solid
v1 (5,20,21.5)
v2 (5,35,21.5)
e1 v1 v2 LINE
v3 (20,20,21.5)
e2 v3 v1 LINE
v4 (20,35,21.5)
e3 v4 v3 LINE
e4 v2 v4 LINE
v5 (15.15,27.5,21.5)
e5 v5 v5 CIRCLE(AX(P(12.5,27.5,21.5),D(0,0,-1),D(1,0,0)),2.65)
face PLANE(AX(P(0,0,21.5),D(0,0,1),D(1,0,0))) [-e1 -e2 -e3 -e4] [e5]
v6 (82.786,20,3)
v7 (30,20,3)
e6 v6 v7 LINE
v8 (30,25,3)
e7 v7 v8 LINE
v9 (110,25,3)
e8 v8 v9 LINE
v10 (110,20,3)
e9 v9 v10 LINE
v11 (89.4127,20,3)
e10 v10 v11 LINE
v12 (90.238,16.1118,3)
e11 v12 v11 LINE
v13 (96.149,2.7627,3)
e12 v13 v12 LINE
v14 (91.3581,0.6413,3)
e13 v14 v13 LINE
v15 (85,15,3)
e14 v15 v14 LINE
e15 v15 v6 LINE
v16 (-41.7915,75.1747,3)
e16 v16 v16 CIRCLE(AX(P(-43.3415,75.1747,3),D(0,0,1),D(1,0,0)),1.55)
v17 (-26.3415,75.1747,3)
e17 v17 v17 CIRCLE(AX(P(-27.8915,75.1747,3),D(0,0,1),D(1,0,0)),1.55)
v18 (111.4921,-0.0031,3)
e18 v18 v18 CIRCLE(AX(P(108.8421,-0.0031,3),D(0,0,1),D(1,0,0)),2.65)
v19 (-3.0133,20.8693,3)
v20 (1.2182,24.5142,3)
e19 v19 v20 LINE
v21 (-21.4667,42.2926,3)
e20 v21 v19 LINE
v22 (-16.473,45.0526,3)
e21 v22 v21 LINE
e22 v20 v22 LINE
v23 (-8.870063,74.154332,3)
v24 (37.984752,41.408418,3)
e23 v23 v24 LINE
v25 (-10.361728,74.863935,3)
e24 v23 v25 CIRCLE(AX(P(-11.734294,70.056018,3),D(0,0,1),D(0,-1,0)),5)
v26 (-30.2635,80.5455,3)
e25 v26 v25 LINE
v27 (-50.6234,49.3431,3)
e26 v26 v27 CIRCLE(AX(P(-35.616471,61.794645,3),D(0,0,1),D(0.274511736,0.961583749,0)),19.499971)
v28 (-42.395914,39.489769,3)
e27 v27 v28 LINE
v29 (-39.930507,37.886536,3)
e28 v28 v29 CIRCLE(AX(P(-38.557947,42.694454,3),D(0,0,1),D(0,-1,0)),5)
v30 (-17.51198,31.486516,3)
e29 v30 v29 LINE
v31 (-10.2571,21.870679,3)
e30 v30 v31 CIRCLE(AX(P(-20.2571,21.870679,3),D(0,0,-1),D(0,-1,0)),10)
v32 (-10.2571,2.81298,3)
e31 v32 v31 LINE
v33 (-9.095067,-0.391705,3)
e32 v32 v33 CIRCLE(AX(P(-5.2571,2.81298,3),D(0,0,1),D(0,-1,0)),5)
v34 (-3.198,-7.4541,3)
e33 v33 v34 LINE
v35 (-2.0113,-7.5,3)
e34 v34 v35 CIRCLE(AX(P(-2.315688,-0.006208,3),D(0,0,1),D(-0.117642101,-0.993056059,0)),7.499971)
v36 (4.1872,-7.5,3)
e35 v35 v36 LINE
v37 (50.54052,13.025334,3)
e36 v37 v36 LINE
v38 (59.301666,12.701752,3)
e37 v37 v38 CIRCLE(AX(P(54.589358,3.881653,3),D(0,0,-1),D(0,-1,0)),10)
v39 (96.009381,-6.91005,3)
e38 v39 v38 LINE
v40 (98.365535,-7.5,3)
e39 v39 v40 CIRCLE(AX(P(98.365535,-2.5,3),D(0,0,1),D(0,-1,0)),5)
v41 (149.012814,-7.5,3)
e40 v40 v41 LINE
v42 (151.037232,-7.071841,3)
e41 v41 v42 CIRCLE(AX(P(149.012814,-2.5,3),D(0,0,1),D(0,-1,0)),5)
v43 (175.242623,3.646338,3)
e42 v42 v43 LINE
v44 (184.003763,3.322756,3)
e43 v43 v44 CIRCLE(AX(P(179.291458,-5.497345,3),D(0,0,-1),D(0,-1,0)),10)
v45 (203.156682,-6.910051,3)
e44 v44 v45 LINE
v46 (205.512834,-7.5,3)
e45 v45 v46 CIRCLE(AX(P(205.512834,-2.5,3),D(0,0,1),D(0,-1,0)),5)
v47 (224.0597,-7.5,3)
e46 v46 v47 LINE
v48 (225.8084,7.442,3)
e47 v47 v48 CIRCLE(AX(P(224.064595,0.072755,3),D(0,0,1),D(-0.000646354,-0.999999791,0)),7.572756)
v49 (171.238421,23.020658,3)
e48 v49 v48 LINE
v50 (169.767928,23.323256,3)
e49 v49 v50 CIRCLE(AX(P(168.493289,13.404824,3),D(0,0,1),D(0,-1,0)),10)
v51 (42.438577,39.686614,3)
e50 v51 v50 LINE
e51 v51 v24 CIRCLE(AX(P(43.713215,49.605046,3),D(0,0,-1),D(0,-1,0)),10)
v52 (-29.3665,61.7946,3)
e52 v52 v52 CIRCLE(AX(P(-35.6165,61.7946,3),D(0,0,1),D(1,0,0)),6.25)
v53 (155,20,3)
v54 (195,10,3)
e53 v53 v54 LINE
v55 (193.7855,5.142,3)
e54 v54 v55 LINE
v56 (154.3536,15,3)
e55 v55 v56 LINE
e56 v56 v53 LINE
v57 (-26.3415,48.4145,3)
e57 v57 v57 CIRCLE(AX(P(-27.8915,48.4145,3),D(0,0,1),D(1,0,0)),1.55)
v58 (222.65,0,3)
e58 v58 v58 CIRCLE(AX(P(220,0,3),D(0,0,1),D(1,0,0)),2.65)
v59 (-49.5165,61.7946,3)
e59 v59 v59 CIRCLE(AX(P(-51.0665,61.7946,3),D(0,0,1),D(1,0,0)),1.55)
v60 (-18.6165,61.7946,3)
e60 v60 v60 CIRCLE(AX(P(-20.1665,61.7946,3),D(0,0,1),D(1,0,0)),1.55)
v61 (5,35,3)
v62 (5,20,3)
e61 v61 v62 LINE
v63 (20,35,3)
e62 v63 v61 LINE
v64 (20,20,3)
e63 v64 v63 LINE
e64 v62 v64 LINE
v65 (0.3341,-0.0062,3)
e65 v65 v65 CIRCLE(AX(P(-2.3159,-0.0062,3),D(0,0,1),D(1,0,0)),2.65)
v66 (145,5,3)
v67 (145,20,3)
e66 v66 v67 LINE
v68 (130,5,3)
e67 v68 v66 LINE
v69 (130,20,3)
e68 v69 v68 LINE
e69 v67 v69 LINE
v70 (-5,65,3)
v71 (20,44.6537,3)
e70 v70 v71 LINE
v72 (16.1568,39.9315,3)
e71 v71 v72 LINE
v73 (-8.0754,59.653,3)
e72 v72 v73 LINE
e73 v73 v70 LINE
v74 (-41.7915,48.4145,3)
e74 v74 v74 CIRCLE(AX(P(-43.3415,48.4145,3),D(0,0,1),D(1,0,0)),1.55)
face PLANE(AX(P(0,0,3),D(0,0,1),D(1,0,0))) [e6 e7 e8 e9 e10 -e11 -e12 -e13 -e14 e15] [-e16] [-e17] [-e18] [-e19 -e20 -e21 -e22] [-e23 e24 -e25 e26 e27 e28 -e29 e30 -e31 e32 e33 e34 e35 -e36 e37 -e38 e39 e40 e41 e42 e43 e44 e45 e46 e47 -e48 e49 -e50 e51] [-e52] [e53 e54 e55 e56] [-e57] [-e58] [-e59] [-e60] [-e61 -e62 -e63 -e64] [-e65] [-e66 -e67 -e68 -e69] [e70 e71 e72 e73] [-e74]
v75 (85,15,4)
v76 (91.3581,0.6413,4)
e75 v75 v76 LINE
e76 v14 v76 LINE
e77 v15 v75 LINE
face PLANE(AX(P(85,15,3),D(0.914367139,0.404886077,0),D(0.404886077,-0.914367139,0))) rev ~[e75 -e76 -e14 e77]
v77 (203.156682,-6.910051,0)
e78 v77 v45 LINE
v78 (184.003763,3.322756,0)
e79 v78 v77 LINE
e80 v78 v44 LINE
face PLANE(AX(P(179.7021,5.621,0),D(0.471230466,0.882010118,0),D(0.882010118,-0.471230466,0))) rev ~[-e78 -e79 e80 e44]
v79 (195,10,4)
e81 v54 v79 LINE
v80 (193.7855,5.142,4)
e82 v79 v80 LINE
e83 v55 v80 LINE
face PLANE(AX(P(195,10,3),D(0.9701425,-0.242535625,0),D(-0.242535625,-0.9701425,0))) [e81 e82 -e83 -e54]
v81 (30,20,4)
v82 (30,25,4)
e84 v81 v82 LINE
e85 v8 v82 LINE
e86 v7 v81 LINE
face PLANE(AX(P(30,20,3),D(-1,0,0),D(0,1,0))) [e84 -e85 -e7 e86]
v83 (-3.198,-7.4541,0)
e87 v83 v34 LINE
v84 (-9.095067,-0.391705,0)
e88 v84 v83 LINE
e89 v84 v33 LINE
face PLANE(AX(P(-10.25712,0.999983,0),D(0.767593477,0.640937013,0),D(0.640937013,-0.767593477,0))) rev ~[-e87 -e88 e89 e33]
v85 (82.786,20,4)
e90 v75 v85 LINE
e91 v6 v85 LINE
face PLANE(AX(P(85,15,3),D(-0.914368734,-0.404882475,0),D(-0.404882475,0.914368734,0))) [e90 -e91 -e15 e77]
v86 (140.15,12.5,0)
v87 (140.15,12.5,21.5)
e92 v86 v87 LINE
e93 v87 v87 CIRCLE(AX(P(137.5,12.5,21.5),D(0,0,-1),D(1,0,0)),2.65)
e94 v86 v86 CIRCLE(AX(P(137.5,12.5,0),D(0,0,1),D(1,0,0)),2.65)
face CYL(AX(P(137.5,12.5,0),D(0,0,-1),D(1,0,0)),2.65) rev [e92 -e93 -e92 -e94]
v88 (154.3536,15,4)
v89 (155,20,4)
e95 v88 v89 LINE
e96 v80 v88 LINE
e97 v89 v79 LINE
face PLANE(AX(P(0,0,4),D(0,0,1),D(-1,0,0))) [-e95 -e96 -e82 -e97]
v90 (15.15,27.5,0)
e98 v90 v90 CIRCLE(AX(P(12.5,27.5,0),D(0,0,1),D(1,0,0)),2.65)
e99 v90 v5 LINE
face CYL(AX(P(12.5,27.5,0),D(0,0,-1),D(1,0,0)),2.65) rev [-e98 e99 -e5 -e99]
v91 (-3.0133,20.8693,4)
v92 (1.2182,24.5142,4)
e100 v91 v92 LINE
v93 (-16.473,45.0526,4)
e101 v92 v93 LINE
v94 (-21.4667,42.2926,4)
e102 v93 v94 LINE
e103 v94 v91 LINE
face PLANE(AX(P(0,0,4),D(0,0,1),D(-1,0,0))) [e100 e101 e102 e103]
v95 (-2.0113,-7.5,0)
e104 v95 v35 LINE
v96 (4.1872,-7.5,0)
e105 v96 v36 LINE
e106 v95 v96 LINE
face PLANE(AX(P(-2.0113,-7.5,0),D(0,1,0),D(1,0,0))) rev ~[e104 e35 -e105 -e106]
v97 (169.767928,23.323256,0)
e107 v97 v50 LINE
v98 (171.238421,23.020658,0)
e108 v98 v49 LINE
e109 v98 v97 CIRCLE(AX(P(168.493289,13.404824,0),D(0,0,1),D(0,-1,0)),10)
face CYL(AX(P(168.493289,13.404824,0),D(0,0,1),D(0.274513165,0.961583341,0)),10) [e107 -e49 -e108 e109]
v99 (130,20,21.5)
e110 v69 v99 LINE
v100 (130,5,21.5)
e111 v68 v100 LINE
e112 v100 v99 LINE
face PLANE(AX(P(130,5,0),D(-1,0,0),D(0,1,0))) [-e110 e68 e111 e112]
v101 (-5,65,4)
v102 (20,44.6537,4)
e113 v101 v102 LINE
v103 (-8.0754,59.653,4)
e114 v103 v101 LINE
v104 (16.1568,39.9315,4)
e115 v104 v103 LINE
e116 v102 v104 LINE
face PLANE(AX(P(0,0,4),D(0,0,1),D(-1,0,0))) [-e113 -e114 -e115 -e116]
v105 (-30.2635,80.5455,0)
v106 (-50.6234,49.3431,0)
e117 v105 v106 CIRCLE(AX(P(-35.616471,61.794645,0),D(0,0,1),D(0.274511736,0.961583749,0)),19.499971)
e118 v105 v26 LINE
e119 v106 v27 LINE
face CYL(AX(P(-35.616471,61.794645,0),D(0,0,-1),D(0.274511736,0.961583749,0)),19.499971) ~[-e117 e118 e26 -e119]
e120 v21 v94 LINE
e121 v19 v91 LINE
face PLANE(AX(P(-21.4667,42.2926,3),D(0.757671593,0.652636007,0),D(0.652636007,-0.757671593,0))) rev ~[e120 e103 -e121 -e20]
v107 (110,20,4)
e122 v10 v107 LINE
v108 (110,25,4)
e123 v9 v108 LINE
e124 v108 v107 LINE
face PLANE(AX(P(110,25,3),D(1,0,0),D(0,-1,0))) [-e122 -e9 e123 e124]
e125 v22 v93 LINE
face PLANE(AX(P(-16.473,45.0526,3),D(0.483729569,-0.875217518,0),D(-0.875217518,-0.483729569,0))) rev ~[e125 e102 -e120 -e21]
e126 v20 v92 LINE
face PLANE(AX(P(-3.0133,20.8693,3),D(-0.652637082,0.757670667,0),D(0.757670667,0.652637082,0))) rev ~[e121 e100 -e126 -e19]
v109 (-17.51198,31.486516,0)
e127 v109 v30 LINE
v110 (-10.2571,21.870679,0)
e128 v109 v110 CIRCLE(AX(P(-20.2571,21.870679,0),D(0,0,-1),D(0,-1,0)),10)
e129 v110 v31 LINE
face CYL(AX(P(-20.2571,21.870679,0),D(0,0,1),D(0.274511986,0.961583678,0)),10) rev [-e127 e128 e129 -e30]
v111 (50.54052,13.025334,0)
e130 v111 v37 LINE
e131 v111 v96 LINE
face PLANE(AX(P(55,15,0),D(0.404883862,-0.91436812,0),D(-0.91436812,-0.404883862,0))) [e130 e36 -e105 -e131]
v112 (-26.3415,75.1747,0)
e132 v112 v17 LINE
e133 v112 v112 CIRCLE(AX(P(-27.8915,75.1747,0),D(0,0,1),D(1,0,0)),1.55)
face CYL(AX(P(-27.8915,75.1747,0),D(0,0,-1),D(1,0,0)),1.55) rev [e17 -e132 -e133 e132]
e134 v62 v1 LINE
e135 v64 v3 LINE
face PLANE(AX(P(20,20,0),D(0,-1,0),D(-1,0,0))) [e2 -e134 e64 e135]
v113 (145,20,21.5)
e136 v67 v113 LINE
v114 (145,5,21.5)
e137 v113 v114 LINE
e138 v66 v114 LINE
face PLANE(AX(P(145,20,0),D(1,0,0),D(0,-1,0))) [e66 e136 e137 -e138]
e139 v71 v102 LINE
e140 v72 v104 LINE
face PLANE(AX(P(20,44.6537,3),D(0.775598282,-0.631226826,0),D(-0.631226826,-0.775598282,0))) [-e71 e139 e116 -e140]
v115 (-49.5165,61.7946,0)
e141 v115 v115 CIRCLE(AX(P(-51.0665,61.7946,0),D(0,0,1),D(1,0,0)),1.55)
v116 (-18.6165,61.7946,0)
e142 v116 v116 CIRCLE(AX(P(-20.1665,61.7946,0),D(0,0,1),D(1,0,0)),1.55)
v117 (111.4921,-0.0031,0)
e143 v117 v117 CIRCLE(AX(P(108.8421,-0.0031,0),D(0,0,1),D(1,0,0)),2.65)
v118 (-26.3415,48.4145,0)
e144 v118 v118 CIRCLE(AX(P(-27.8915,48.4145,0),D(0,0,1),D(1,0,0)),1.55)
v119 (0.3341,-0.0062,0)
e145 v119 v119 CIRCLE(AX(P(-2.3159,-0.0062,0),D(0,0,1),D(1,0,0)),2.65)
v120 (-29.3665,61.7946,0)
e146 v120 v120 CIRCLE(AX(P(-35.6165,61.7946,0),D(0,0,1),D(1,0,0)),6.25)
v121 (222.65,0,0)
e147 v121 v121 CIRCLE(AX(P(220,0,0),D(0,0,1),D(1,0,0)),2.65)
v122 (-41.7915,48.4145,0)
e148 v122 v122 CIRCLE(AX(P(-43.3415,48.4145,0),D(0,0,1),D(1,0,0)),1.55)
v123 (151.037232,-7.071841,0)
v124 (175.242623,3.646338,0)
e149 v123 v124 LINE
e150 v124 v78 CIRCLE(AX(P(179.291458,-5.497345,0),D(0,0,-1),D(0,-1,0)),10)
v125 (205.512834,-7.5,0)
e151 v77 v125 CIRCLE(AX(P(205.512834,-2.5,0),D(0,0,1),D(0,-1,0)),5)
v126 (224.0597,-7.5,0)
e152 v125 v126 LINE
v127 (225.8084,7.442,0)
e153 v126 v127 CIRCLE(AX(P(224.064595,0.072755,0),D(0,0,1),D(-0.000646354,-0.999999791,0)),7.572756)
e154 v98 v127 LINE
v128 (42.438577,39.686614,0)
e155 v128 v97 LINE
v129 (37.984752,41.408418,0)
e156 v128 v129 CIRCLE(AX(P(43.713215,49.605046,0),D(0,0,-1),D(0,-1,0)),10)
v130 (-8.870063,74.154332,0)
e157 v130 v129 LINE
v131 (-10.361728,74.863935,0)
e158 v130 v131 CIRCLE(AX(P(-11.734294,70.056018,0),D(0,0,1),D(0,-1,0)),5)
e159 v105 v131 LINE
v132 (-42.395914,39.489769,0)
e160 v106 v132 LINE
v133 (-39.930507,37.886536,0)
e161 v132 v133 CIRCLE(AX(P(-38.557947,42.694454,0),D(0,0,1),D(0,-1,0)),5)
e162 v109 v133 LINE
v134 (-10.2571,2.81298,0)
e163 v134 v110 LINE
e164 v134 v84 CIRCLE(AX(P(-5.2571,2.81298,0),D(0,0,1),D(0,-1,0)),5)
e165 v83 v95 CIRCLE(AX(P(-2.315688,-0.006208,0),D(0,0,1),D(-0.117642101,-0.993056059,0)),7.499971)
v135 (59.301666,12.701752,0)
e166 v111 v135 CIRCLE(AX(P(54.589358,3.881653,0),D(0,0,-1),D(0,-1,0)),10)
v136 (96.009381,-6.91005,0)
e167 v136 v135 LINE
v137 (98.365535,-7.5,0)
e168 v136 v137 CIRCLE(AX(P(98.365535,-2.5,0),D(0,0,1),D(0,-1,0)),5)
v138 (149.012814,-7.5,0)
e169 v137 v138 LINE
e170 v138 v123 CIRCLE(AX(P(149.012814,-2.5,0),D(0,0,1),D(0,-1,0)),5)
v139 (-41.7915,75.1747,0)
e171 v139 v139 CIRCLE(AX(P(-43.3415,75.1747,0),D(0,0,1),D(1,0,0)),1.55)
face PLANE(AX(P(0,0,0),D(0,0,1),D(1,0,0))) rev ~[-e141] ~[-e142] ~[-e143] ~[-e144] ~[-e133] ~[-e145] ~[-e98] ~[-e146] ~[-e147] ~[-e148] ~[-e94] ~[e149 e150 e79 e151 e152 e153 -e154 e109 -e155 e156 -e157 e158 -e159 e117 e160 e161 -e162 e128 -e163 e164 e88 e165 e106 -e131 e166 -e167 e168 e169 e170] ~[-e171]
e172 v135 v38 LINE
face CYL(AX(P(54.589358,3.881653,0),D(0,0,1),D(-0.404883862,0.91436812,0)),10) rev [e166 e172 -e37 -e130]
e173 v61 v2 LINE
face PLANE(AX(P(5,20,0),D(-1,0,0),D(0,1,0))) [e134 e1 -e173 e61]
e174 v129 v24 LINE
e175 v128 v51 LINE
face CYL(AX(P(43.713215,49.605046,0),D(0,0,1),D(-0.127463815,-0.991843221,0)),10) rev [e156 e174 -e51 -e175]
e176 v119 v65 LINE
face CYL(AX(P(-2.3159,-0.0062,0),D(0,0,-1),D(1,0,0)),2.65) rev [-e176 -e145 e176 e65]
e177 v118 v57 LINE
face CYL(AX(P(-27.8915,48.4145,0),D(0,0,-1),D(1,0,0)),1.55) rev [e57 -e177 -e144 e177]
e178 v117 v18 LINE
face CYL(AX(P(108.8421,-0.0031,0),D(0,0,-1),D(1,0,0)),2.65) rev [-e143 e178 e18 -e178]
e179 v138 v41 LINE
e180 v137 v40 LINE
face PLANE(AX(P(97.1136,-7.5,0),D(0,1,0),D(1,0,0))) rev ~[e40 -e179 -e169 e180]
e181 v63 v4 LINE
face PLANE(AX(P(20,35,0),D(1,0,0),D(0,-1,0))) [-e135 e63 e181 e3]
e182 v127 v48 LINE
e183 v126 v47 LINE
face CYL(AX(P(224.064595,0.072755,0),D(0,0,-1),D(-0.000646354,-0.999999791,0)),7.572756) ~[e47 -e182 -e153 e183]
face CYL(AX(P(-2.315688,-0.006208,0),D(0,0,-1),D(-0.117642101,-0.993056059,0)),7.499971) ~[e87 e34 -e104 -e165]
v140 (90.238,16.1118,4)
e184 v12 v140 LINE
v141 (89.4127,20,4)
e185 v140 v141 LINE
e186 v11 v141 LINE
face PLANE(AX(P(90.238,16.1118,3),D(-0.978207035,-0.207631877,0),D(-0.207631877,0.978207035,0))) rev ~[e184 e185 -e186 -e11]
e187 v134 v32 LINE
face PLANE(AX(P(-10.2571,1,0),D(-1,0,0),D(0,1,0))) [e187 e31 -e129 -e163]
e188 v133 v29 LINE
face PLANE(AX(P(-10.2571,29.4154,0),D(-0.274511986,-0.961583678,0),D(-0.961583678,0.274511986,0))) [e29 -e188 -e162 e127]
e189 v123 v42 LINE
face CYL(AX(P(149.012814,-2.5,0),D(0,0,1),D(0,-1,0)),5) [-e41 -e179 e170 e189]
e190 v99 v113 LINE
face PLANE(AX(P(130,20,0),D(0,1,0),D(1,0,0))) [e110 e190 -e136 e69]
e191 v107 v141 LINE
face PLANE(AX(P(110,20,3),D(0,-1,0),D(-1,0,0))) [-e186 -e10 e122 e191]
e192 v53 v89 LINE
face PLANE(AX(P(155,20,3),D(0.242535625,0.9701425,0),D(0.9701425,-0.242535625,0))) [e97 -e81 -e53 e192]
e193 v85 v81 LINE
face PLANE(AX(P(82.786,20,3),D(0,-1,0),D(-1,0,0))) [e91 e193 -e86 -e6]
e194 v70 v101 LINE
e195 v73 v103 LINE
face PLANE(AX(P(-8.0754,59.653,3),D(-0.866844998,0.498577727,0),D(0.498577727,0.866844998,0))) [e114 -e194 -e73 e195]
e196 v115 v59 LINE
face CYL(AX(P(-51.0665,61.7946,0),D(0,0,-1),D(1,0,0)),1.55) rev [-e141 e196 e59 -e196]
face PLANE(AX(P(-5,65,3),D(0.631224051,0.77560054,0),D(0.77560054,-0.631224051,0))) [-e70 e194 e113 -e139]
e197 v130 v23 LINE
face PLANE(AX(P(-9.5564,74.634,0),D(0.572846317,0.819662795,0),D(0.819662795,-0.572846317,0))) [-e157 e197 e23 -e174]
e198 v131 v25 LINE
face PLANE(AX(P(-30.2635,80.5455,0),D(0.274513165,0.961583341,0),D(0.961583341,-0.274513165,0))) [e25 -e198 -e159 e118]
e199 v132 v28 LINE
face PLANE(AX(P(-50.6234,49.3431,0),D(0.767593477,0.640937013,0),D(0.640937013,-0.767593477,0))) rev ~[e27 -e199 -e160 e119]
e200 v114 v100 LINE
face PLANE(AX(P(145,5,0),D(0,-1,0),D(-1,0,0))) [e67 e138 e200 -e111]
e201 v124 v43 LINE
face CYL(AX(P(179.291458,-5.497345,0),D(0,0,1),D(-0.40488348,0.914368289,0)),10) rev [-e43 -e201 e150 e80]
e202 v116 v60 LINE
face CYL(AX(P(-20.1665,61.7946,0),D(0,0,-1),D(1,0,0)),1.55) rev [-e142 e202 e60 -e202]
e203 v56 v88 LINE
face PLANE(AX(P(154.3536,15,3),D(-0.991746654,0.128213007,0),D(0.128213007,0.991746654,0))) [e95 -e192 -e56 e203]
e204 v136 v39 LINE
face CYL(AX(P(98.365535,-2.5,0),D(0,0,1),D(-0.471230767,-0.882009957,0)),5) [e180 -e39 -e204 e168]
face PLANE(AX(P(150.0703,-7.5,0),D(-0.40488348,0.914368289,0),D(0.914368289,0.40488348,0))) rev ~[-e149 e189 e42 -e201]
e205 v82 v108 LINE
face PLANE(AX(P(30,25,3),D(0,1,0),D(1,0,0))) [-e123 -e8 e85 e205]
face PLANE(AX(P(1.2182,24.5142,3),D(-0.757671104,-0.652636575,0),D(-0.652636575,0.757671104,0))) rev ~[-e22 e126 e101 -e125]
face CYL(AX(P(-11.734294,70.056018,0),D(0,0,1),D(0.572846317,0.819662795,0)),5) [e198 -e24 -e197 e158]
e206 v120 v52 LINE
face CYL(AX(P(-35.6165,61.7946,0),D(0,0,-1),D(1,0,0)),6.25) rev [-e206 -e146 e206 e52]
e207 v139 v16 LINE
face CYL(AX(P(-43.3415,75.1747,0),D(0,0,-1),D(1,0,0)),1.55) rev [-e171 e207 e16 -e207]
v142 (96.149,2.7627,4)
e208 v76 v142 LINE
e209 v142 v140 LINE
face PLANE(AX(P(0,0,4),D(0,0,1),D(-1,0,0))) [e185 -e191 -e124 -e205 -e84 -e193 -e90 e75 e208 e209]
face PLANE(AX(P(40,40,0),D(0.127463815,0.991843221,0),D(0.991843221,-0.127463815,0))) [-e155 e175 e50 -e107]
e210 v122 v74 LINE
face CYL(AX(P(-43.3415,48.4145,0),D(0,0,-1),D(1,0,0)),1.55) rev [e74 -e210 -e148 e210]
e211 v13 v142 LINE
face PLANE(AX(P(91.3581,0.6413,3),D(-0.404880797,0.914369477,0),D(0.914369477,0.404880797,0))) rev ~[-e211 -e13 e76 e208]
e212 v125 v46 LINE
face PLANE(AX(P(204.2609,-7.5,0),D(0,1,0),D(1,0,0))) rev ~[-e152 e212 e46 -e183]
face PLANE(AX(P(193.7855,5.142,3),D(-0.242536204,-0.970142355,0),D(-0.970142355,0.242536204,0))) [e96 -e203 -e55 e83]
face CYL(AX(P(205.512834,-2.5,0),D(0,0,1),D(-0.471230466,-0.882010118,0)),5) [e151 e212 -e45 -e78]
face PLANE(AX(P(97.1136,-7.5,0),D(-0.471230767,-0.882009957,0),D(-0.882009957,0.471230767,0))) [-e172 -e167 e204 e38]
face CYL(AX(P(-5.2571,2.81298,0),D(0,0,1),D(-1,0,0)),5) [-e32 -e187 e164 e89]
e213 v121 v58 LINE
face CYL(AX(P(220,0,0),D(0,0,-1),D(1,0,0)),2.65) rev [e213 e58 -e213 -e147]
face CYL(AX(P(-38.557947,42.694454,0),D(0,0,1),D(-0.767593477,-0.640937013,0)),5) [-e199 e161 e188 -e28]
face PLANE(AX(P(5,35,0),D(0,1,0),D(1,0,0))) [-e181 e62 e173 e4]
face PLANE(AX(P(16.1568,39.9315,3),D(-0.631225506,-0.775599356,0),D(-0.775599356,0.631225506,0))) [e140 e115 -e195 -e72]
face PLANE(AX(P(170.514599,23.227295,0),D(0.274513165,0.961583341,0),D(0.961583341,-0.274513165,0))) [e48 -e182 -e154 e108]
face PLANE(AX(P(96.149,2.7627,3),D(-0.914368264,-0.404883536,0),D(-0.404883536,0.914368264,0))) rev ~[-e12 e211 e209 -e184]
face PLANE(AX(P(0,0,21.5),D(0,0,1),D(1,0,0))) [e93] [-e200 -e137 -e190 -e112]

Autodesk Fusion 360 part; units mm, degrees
sketch "Sketch1" plane through (0, 0, 0) normal (0, 0, 1) x (1, 0, 0)
  line L0 (-50.6234, 49.3431) -> (-3.198, -7.4541)
  line L1 (-2.0113, -7.5) -> (224.0597, -7.5)
  line L2 (-30.2635, 80.5455) -> (225.8084, 7.442)
  line L3 (218.275, -2.7029) -> (218.4394, -2.7498)
  arc A0 (225, -2.55) -> (225, 2.55) centre (225, 0) ccw
  arc A1 (224.0597, -7.5) -> (225.8084, 7.442) centre (224.0646, 0.0728) ccw
  arc A2 (-3.198, -7.4541) -> (-2.0113, -7.5) centre (-2.3159, -0.0062) ccw
  arc A3 (-30.2635, 80.5455) -> (-50.6234, 49.3431) centre (-35.6165, 61.7946) ccw
  circle A4 centre (-35.6165, 61.7946) radius 19.5
  line L4 (55, 15) -> (4.1872, -7.5)
  line L5 (-9.5564, 74.634) -> (40, 40)
  line L6 (-10.2571, 1) -> (-10.2571, 29.4154)
  line L7 (-10.2571, 29.4154) -> (-41.41, 38.3089)
  circle A5 centre (220, 0) radius 2.65
  circle A6 centre (-2.3159, -0.0062) radius 2.65
  circle A7 centre (-35.6165, 61.7946) radius 6.25
  circle A8 centre (-35.6165, 61.7946) radius 18.5
  line L8 (5, 35) -> (20, 35)
  line L9 (20, 35) -> (20, 20)
  line L10 (20, 20) -> (5, 20)
  line L11 (5, 20) -> (5, 35)
  line L12 (130, 20) -> (145, 20)
  line L13 (145, 20) -> (145, 5)
  line L14 (145, 5) -> (130, 5)
  line L15 (130, 5) -> (130, 20)
  circle A9 centre (-20.1665, 61.7946) radius 1.55
  circle A10 centre (-27.8915, 75.1747) radius 1.55
  circle A11 centre (-43.3415, 75.1747) radius 1.55
  circle A12 centre (-51.0665, 61.7946) radius 1.55
  circle A13 centre (-43.3415, 48.4145) radius 1.55
  circle A14 centre (-27.8915, 48.4145) radius 1.55
  circle A15 centre (108.8421, -0.0031) radius 2.65
  line L16 (97.1136, -7.5) -> (55, 15)
  line L17 (150.0703, -7.5) -> (179.7021, 5.621)
  line L18 (179.7021, 5.621) -> (204.2609, -7.5)
  line L19 (40, 40) -> (170.5146, 23.2273)
  circle A16 centre (12.5, 27.5) radius 2.65
  circle A17 centre (137.5, 12.5) radius 2.65
  dimension "d10" = 5.1
  dimension "d44" = 39
  dimension "d49" = 5.3
  dimension "d50" = 5.3
  dimension "d66" = 12.5
  dimension "d67" = 37
  dimension "d114" = 3.1
  dimension "d116" = 360
  dimension "d135" = 5.3
  dimension "d140" = 5.3
  dimension "d141" = 5.3
extrude "Extrude24" add sketch "Sketch1" along normal blind 3 contours L0 L1 L2 A1 A2 A4 L4 L5 L6 L7 L16 L17 L18 L19 | A3 A4 | A8 | L8 L9 L10 L11 | L12 L13 L14 L15 | A16 | A17
extrude "Extrude25" add sketch "Sketch1" along normal blind 21.5 contours L8 L9 L10 L11 | L12 L13 L14 L15 | A16 | A17
extrude "Extrude26" cut sketch "Sketch1" along normal blind 22 contours A16 | A17
fillet "Fillet14" radius 5 1 edges at (-41.41, 38.3089, 1.5)
fillet "Fillet15" radius 10 1 edges at (-10.2571, 29.4154, 1.5)
fillet "Fillet16" radius 5 1 edges at (-10.2571, 1, 1.5)
fillet "Fillet17" radius 10 1 edges at (55, 15, 1.5)
fillet "Fillet18" radius 5 1 edges at (97.1136, -7.5, 1.5)
fillet "Fillet19" radius 5 1 edges at (150.0703, -7.5, 1.5)
fillet "Fillet20" radius 10 1 edges at (179.7021, 5.621, 1.5)
fillet "Fillet21" radius 5 1 edges at (204.2609, -7.5, 1.5)
fillet "Fillet22" radius 10 1 edges at (170.5146, 23.2273, 1.5)
fillet "Fillet23" radius 10 1 edges at (40, 40, 1.5)
fillet "Fillet24" radius 5 1 edges at (-9.5564, 74.634, 1.5)
sketch "Sketch4" plane through (0, 0, 3) normal (0, 0, 1) x (-1, 0, 0)
  arc A0 (8.87, -74.1543) -> (10.3617, -74.8639) centre (11.7343, -70.056) ccw
  line L0 (10.3617, -74.8639) -> (30.2635, -80.5455)
  arc A1 (30.2635, -80.5455) -> (50.6234, -49.3431) centre (35.6165, -61.7946) ccw
  line L1 (50.6234, -49.3431) -> (42.396, -39.4898)
  arc A2 (42.396, -39.4898) -> (39.9306, -37.8866) centre (38.558, -42.6945) ccw
  line L2 (39.9306, -37.8866) -> (17.512, -31.4865)
  arc A3 (10.2571, -21.8707) -> (17.512, -31.4865) centre (20.2571, -21.8707) ccw
  line L3 (10.2571, -21.8707) -> (10.2571, -2.813)
  arc A4 (10.2571, -2.813) -> (9.0951, 0.3917) centre (5.2571, -2.813) ccw
  line L4 (9.0951, 0.3917) -> (3.198, 7.4541)
  arc A5 (3.198, 7.4541) -> (2.0113, 7.5) centre (2.3159, 0.0062) ccw
  line L5 (2.0113, 7.5) -> (-4.1872, 7.5)
  line L6 (-4.1872, 7.5) -> (-50.5405, -13.0253)
  arc A6 (-59.3017, -12.7018) -> (-50.5405, -13.0253) centre (-54.5894, -3.8817) ccw
  line L7 (-59.3017, -12.7018) -> (-96.0094, 6.91)
  arc A7 (-96.0094, 6.91) -> (-98.3655, 7.5) centre (-98.3655, 2.5) ccw
  line L8 (-98.3655, 7.5) -> (-149.0128, 7.5)
  arc A8 (-149.0128, 7.5) -> (-151.0373, 7.0718) centre (-149.0128, 2.5) ccw
  line L9 (-151.0373, 7.0718) -> (-175.2426, -3.6463)
  arc A9 (-184.0038, -3.3228) -> (-175.2426, -3.6463) centre (-179.2915, 5.4973) ccw
  line L10 (-184.0038, -3.3228) -> (-203.1567, 6.91)
  arc A10 (-203.1567, 6.91) -> (-205.5128, 7.5) centre (-205.5128, 2.5) ccw
  line L11 (-205.5128, 7.5) -> (-224.0597, 7.5)
  arc A11 (-224.0597, 7.5) -> (-225.8084, -7.442) centre (-224.0646, -0.0728) ccw
  line L12 (-225.8084, -7.442) -> (-171.2385, -23.0206)
  arc A12 (-171.2385, -23.0206) -> (-169.768, -23.3232) centre (-168.4934, -13.4048) ccw
  line L13 (-169.768, -23.3232) -> (-42.4386, -39.6866)
  arc A13 (-37.9848, -41.4084) -> (-42.4386, -39.6866) centre (-43.7132, -49.605) ccw
  line L14 (-37.9848, -41.4084) -> (8.87, -74.1543)
  line L15 (-5, -20) -> (-5, -35)
  line L16 (-5, -35) -> (-20, -35)
  line L17 (-20, -35) -> (-20, -20)
  line L18 (-20, -20) -> (-5, -20)
  line L19 (-130, -5) -> (-130, -20)
  line L20 (-130, -20) -> (-145, -20)
  line L21 (-145, -20) -> (-145, -5)
  line L22 (-145, -5) -> (-130, -5)
  circle A14 centre (35.6165, -61.7946) radius 6.25
  circle A15 centre (2.3159, 0.0062) radius 2.65
  circle A16 centre (20.1665, -61.7946) radius 1.55
  circle A17 centre (43.3415, -48.4145) radius 1.55
  circle A18 centre (27.8915, -75.1747) radius 1.55
  circle A19 centre (43.3415, -75.1747) radius 1.55
  circle A20 centre (51.0665, -61.7946) radius 1.55
  circle A21 centre (-220, 0) radius 2.65
  circle A22 centre (27.8915, -48.4145) radius 1.55
  circle A23 centre (-108.8421, 0.0031) radius 2.65
  line L23 (-155, -20) -> (-195, -10)
  line L24 (-195, -10) -> (-193.7855, -5.142)
  line L25 (-193.7855, -5.142) -> (-154.3536, -15)
  line L26 (-154.3536, -15) -> (-155, -20)
  line L27 (-30, -25) -> (-110, -25)
  line L28 (-110, -25) -> (-110, -20)
  line L29 (-110, -20) -> (-30, -20)
  line L30 (-30, -20) -> (-30, -25)
  line L31 (-85, -15) -> (-91.3581, -0.6413)
  line L32 (-91.3581, -0.6413) -> (-96.149, -2.7627)
  line L33 (-96.149, -2.7627) -> (-90.238, -16.1118)
  line L34 (-90.238, -16.1118) -> (-89.4127, -20)
  line L35 (-85, -15) -> (-82.786, -20)
  line L36 (5, -65) -> (-20, -44.6537)
  line L37 (-20, -44.6537) -> (-16.1568, -39.9315)
  line L38 (-16.1568, -39.9315) -> (8.0754, -59.653)
  line L39 (8.0754, -59.653) -> (5, -65)
  line L40 (21.4667, -42.2926) -> (3.0133, -20.8693)
  line L41 (3.0133, -20.8693) -> (-1.2182, -24.5142)
  line L42 (-1.2182, -24.5142) -> (16.473, -45.0526)
  line L43 (16.473, -45.0526) -> (21.4667, -42.2926)
extrude "Extrude27" add sketch "Sketch4" along normal blind 1 contours L23 L24 L25 L26 | L27 L28 L29 L30 | L29 L31 L32 L33 L34 L35 | L36 L37 L38 L39 | L40 L41 L42 L43
